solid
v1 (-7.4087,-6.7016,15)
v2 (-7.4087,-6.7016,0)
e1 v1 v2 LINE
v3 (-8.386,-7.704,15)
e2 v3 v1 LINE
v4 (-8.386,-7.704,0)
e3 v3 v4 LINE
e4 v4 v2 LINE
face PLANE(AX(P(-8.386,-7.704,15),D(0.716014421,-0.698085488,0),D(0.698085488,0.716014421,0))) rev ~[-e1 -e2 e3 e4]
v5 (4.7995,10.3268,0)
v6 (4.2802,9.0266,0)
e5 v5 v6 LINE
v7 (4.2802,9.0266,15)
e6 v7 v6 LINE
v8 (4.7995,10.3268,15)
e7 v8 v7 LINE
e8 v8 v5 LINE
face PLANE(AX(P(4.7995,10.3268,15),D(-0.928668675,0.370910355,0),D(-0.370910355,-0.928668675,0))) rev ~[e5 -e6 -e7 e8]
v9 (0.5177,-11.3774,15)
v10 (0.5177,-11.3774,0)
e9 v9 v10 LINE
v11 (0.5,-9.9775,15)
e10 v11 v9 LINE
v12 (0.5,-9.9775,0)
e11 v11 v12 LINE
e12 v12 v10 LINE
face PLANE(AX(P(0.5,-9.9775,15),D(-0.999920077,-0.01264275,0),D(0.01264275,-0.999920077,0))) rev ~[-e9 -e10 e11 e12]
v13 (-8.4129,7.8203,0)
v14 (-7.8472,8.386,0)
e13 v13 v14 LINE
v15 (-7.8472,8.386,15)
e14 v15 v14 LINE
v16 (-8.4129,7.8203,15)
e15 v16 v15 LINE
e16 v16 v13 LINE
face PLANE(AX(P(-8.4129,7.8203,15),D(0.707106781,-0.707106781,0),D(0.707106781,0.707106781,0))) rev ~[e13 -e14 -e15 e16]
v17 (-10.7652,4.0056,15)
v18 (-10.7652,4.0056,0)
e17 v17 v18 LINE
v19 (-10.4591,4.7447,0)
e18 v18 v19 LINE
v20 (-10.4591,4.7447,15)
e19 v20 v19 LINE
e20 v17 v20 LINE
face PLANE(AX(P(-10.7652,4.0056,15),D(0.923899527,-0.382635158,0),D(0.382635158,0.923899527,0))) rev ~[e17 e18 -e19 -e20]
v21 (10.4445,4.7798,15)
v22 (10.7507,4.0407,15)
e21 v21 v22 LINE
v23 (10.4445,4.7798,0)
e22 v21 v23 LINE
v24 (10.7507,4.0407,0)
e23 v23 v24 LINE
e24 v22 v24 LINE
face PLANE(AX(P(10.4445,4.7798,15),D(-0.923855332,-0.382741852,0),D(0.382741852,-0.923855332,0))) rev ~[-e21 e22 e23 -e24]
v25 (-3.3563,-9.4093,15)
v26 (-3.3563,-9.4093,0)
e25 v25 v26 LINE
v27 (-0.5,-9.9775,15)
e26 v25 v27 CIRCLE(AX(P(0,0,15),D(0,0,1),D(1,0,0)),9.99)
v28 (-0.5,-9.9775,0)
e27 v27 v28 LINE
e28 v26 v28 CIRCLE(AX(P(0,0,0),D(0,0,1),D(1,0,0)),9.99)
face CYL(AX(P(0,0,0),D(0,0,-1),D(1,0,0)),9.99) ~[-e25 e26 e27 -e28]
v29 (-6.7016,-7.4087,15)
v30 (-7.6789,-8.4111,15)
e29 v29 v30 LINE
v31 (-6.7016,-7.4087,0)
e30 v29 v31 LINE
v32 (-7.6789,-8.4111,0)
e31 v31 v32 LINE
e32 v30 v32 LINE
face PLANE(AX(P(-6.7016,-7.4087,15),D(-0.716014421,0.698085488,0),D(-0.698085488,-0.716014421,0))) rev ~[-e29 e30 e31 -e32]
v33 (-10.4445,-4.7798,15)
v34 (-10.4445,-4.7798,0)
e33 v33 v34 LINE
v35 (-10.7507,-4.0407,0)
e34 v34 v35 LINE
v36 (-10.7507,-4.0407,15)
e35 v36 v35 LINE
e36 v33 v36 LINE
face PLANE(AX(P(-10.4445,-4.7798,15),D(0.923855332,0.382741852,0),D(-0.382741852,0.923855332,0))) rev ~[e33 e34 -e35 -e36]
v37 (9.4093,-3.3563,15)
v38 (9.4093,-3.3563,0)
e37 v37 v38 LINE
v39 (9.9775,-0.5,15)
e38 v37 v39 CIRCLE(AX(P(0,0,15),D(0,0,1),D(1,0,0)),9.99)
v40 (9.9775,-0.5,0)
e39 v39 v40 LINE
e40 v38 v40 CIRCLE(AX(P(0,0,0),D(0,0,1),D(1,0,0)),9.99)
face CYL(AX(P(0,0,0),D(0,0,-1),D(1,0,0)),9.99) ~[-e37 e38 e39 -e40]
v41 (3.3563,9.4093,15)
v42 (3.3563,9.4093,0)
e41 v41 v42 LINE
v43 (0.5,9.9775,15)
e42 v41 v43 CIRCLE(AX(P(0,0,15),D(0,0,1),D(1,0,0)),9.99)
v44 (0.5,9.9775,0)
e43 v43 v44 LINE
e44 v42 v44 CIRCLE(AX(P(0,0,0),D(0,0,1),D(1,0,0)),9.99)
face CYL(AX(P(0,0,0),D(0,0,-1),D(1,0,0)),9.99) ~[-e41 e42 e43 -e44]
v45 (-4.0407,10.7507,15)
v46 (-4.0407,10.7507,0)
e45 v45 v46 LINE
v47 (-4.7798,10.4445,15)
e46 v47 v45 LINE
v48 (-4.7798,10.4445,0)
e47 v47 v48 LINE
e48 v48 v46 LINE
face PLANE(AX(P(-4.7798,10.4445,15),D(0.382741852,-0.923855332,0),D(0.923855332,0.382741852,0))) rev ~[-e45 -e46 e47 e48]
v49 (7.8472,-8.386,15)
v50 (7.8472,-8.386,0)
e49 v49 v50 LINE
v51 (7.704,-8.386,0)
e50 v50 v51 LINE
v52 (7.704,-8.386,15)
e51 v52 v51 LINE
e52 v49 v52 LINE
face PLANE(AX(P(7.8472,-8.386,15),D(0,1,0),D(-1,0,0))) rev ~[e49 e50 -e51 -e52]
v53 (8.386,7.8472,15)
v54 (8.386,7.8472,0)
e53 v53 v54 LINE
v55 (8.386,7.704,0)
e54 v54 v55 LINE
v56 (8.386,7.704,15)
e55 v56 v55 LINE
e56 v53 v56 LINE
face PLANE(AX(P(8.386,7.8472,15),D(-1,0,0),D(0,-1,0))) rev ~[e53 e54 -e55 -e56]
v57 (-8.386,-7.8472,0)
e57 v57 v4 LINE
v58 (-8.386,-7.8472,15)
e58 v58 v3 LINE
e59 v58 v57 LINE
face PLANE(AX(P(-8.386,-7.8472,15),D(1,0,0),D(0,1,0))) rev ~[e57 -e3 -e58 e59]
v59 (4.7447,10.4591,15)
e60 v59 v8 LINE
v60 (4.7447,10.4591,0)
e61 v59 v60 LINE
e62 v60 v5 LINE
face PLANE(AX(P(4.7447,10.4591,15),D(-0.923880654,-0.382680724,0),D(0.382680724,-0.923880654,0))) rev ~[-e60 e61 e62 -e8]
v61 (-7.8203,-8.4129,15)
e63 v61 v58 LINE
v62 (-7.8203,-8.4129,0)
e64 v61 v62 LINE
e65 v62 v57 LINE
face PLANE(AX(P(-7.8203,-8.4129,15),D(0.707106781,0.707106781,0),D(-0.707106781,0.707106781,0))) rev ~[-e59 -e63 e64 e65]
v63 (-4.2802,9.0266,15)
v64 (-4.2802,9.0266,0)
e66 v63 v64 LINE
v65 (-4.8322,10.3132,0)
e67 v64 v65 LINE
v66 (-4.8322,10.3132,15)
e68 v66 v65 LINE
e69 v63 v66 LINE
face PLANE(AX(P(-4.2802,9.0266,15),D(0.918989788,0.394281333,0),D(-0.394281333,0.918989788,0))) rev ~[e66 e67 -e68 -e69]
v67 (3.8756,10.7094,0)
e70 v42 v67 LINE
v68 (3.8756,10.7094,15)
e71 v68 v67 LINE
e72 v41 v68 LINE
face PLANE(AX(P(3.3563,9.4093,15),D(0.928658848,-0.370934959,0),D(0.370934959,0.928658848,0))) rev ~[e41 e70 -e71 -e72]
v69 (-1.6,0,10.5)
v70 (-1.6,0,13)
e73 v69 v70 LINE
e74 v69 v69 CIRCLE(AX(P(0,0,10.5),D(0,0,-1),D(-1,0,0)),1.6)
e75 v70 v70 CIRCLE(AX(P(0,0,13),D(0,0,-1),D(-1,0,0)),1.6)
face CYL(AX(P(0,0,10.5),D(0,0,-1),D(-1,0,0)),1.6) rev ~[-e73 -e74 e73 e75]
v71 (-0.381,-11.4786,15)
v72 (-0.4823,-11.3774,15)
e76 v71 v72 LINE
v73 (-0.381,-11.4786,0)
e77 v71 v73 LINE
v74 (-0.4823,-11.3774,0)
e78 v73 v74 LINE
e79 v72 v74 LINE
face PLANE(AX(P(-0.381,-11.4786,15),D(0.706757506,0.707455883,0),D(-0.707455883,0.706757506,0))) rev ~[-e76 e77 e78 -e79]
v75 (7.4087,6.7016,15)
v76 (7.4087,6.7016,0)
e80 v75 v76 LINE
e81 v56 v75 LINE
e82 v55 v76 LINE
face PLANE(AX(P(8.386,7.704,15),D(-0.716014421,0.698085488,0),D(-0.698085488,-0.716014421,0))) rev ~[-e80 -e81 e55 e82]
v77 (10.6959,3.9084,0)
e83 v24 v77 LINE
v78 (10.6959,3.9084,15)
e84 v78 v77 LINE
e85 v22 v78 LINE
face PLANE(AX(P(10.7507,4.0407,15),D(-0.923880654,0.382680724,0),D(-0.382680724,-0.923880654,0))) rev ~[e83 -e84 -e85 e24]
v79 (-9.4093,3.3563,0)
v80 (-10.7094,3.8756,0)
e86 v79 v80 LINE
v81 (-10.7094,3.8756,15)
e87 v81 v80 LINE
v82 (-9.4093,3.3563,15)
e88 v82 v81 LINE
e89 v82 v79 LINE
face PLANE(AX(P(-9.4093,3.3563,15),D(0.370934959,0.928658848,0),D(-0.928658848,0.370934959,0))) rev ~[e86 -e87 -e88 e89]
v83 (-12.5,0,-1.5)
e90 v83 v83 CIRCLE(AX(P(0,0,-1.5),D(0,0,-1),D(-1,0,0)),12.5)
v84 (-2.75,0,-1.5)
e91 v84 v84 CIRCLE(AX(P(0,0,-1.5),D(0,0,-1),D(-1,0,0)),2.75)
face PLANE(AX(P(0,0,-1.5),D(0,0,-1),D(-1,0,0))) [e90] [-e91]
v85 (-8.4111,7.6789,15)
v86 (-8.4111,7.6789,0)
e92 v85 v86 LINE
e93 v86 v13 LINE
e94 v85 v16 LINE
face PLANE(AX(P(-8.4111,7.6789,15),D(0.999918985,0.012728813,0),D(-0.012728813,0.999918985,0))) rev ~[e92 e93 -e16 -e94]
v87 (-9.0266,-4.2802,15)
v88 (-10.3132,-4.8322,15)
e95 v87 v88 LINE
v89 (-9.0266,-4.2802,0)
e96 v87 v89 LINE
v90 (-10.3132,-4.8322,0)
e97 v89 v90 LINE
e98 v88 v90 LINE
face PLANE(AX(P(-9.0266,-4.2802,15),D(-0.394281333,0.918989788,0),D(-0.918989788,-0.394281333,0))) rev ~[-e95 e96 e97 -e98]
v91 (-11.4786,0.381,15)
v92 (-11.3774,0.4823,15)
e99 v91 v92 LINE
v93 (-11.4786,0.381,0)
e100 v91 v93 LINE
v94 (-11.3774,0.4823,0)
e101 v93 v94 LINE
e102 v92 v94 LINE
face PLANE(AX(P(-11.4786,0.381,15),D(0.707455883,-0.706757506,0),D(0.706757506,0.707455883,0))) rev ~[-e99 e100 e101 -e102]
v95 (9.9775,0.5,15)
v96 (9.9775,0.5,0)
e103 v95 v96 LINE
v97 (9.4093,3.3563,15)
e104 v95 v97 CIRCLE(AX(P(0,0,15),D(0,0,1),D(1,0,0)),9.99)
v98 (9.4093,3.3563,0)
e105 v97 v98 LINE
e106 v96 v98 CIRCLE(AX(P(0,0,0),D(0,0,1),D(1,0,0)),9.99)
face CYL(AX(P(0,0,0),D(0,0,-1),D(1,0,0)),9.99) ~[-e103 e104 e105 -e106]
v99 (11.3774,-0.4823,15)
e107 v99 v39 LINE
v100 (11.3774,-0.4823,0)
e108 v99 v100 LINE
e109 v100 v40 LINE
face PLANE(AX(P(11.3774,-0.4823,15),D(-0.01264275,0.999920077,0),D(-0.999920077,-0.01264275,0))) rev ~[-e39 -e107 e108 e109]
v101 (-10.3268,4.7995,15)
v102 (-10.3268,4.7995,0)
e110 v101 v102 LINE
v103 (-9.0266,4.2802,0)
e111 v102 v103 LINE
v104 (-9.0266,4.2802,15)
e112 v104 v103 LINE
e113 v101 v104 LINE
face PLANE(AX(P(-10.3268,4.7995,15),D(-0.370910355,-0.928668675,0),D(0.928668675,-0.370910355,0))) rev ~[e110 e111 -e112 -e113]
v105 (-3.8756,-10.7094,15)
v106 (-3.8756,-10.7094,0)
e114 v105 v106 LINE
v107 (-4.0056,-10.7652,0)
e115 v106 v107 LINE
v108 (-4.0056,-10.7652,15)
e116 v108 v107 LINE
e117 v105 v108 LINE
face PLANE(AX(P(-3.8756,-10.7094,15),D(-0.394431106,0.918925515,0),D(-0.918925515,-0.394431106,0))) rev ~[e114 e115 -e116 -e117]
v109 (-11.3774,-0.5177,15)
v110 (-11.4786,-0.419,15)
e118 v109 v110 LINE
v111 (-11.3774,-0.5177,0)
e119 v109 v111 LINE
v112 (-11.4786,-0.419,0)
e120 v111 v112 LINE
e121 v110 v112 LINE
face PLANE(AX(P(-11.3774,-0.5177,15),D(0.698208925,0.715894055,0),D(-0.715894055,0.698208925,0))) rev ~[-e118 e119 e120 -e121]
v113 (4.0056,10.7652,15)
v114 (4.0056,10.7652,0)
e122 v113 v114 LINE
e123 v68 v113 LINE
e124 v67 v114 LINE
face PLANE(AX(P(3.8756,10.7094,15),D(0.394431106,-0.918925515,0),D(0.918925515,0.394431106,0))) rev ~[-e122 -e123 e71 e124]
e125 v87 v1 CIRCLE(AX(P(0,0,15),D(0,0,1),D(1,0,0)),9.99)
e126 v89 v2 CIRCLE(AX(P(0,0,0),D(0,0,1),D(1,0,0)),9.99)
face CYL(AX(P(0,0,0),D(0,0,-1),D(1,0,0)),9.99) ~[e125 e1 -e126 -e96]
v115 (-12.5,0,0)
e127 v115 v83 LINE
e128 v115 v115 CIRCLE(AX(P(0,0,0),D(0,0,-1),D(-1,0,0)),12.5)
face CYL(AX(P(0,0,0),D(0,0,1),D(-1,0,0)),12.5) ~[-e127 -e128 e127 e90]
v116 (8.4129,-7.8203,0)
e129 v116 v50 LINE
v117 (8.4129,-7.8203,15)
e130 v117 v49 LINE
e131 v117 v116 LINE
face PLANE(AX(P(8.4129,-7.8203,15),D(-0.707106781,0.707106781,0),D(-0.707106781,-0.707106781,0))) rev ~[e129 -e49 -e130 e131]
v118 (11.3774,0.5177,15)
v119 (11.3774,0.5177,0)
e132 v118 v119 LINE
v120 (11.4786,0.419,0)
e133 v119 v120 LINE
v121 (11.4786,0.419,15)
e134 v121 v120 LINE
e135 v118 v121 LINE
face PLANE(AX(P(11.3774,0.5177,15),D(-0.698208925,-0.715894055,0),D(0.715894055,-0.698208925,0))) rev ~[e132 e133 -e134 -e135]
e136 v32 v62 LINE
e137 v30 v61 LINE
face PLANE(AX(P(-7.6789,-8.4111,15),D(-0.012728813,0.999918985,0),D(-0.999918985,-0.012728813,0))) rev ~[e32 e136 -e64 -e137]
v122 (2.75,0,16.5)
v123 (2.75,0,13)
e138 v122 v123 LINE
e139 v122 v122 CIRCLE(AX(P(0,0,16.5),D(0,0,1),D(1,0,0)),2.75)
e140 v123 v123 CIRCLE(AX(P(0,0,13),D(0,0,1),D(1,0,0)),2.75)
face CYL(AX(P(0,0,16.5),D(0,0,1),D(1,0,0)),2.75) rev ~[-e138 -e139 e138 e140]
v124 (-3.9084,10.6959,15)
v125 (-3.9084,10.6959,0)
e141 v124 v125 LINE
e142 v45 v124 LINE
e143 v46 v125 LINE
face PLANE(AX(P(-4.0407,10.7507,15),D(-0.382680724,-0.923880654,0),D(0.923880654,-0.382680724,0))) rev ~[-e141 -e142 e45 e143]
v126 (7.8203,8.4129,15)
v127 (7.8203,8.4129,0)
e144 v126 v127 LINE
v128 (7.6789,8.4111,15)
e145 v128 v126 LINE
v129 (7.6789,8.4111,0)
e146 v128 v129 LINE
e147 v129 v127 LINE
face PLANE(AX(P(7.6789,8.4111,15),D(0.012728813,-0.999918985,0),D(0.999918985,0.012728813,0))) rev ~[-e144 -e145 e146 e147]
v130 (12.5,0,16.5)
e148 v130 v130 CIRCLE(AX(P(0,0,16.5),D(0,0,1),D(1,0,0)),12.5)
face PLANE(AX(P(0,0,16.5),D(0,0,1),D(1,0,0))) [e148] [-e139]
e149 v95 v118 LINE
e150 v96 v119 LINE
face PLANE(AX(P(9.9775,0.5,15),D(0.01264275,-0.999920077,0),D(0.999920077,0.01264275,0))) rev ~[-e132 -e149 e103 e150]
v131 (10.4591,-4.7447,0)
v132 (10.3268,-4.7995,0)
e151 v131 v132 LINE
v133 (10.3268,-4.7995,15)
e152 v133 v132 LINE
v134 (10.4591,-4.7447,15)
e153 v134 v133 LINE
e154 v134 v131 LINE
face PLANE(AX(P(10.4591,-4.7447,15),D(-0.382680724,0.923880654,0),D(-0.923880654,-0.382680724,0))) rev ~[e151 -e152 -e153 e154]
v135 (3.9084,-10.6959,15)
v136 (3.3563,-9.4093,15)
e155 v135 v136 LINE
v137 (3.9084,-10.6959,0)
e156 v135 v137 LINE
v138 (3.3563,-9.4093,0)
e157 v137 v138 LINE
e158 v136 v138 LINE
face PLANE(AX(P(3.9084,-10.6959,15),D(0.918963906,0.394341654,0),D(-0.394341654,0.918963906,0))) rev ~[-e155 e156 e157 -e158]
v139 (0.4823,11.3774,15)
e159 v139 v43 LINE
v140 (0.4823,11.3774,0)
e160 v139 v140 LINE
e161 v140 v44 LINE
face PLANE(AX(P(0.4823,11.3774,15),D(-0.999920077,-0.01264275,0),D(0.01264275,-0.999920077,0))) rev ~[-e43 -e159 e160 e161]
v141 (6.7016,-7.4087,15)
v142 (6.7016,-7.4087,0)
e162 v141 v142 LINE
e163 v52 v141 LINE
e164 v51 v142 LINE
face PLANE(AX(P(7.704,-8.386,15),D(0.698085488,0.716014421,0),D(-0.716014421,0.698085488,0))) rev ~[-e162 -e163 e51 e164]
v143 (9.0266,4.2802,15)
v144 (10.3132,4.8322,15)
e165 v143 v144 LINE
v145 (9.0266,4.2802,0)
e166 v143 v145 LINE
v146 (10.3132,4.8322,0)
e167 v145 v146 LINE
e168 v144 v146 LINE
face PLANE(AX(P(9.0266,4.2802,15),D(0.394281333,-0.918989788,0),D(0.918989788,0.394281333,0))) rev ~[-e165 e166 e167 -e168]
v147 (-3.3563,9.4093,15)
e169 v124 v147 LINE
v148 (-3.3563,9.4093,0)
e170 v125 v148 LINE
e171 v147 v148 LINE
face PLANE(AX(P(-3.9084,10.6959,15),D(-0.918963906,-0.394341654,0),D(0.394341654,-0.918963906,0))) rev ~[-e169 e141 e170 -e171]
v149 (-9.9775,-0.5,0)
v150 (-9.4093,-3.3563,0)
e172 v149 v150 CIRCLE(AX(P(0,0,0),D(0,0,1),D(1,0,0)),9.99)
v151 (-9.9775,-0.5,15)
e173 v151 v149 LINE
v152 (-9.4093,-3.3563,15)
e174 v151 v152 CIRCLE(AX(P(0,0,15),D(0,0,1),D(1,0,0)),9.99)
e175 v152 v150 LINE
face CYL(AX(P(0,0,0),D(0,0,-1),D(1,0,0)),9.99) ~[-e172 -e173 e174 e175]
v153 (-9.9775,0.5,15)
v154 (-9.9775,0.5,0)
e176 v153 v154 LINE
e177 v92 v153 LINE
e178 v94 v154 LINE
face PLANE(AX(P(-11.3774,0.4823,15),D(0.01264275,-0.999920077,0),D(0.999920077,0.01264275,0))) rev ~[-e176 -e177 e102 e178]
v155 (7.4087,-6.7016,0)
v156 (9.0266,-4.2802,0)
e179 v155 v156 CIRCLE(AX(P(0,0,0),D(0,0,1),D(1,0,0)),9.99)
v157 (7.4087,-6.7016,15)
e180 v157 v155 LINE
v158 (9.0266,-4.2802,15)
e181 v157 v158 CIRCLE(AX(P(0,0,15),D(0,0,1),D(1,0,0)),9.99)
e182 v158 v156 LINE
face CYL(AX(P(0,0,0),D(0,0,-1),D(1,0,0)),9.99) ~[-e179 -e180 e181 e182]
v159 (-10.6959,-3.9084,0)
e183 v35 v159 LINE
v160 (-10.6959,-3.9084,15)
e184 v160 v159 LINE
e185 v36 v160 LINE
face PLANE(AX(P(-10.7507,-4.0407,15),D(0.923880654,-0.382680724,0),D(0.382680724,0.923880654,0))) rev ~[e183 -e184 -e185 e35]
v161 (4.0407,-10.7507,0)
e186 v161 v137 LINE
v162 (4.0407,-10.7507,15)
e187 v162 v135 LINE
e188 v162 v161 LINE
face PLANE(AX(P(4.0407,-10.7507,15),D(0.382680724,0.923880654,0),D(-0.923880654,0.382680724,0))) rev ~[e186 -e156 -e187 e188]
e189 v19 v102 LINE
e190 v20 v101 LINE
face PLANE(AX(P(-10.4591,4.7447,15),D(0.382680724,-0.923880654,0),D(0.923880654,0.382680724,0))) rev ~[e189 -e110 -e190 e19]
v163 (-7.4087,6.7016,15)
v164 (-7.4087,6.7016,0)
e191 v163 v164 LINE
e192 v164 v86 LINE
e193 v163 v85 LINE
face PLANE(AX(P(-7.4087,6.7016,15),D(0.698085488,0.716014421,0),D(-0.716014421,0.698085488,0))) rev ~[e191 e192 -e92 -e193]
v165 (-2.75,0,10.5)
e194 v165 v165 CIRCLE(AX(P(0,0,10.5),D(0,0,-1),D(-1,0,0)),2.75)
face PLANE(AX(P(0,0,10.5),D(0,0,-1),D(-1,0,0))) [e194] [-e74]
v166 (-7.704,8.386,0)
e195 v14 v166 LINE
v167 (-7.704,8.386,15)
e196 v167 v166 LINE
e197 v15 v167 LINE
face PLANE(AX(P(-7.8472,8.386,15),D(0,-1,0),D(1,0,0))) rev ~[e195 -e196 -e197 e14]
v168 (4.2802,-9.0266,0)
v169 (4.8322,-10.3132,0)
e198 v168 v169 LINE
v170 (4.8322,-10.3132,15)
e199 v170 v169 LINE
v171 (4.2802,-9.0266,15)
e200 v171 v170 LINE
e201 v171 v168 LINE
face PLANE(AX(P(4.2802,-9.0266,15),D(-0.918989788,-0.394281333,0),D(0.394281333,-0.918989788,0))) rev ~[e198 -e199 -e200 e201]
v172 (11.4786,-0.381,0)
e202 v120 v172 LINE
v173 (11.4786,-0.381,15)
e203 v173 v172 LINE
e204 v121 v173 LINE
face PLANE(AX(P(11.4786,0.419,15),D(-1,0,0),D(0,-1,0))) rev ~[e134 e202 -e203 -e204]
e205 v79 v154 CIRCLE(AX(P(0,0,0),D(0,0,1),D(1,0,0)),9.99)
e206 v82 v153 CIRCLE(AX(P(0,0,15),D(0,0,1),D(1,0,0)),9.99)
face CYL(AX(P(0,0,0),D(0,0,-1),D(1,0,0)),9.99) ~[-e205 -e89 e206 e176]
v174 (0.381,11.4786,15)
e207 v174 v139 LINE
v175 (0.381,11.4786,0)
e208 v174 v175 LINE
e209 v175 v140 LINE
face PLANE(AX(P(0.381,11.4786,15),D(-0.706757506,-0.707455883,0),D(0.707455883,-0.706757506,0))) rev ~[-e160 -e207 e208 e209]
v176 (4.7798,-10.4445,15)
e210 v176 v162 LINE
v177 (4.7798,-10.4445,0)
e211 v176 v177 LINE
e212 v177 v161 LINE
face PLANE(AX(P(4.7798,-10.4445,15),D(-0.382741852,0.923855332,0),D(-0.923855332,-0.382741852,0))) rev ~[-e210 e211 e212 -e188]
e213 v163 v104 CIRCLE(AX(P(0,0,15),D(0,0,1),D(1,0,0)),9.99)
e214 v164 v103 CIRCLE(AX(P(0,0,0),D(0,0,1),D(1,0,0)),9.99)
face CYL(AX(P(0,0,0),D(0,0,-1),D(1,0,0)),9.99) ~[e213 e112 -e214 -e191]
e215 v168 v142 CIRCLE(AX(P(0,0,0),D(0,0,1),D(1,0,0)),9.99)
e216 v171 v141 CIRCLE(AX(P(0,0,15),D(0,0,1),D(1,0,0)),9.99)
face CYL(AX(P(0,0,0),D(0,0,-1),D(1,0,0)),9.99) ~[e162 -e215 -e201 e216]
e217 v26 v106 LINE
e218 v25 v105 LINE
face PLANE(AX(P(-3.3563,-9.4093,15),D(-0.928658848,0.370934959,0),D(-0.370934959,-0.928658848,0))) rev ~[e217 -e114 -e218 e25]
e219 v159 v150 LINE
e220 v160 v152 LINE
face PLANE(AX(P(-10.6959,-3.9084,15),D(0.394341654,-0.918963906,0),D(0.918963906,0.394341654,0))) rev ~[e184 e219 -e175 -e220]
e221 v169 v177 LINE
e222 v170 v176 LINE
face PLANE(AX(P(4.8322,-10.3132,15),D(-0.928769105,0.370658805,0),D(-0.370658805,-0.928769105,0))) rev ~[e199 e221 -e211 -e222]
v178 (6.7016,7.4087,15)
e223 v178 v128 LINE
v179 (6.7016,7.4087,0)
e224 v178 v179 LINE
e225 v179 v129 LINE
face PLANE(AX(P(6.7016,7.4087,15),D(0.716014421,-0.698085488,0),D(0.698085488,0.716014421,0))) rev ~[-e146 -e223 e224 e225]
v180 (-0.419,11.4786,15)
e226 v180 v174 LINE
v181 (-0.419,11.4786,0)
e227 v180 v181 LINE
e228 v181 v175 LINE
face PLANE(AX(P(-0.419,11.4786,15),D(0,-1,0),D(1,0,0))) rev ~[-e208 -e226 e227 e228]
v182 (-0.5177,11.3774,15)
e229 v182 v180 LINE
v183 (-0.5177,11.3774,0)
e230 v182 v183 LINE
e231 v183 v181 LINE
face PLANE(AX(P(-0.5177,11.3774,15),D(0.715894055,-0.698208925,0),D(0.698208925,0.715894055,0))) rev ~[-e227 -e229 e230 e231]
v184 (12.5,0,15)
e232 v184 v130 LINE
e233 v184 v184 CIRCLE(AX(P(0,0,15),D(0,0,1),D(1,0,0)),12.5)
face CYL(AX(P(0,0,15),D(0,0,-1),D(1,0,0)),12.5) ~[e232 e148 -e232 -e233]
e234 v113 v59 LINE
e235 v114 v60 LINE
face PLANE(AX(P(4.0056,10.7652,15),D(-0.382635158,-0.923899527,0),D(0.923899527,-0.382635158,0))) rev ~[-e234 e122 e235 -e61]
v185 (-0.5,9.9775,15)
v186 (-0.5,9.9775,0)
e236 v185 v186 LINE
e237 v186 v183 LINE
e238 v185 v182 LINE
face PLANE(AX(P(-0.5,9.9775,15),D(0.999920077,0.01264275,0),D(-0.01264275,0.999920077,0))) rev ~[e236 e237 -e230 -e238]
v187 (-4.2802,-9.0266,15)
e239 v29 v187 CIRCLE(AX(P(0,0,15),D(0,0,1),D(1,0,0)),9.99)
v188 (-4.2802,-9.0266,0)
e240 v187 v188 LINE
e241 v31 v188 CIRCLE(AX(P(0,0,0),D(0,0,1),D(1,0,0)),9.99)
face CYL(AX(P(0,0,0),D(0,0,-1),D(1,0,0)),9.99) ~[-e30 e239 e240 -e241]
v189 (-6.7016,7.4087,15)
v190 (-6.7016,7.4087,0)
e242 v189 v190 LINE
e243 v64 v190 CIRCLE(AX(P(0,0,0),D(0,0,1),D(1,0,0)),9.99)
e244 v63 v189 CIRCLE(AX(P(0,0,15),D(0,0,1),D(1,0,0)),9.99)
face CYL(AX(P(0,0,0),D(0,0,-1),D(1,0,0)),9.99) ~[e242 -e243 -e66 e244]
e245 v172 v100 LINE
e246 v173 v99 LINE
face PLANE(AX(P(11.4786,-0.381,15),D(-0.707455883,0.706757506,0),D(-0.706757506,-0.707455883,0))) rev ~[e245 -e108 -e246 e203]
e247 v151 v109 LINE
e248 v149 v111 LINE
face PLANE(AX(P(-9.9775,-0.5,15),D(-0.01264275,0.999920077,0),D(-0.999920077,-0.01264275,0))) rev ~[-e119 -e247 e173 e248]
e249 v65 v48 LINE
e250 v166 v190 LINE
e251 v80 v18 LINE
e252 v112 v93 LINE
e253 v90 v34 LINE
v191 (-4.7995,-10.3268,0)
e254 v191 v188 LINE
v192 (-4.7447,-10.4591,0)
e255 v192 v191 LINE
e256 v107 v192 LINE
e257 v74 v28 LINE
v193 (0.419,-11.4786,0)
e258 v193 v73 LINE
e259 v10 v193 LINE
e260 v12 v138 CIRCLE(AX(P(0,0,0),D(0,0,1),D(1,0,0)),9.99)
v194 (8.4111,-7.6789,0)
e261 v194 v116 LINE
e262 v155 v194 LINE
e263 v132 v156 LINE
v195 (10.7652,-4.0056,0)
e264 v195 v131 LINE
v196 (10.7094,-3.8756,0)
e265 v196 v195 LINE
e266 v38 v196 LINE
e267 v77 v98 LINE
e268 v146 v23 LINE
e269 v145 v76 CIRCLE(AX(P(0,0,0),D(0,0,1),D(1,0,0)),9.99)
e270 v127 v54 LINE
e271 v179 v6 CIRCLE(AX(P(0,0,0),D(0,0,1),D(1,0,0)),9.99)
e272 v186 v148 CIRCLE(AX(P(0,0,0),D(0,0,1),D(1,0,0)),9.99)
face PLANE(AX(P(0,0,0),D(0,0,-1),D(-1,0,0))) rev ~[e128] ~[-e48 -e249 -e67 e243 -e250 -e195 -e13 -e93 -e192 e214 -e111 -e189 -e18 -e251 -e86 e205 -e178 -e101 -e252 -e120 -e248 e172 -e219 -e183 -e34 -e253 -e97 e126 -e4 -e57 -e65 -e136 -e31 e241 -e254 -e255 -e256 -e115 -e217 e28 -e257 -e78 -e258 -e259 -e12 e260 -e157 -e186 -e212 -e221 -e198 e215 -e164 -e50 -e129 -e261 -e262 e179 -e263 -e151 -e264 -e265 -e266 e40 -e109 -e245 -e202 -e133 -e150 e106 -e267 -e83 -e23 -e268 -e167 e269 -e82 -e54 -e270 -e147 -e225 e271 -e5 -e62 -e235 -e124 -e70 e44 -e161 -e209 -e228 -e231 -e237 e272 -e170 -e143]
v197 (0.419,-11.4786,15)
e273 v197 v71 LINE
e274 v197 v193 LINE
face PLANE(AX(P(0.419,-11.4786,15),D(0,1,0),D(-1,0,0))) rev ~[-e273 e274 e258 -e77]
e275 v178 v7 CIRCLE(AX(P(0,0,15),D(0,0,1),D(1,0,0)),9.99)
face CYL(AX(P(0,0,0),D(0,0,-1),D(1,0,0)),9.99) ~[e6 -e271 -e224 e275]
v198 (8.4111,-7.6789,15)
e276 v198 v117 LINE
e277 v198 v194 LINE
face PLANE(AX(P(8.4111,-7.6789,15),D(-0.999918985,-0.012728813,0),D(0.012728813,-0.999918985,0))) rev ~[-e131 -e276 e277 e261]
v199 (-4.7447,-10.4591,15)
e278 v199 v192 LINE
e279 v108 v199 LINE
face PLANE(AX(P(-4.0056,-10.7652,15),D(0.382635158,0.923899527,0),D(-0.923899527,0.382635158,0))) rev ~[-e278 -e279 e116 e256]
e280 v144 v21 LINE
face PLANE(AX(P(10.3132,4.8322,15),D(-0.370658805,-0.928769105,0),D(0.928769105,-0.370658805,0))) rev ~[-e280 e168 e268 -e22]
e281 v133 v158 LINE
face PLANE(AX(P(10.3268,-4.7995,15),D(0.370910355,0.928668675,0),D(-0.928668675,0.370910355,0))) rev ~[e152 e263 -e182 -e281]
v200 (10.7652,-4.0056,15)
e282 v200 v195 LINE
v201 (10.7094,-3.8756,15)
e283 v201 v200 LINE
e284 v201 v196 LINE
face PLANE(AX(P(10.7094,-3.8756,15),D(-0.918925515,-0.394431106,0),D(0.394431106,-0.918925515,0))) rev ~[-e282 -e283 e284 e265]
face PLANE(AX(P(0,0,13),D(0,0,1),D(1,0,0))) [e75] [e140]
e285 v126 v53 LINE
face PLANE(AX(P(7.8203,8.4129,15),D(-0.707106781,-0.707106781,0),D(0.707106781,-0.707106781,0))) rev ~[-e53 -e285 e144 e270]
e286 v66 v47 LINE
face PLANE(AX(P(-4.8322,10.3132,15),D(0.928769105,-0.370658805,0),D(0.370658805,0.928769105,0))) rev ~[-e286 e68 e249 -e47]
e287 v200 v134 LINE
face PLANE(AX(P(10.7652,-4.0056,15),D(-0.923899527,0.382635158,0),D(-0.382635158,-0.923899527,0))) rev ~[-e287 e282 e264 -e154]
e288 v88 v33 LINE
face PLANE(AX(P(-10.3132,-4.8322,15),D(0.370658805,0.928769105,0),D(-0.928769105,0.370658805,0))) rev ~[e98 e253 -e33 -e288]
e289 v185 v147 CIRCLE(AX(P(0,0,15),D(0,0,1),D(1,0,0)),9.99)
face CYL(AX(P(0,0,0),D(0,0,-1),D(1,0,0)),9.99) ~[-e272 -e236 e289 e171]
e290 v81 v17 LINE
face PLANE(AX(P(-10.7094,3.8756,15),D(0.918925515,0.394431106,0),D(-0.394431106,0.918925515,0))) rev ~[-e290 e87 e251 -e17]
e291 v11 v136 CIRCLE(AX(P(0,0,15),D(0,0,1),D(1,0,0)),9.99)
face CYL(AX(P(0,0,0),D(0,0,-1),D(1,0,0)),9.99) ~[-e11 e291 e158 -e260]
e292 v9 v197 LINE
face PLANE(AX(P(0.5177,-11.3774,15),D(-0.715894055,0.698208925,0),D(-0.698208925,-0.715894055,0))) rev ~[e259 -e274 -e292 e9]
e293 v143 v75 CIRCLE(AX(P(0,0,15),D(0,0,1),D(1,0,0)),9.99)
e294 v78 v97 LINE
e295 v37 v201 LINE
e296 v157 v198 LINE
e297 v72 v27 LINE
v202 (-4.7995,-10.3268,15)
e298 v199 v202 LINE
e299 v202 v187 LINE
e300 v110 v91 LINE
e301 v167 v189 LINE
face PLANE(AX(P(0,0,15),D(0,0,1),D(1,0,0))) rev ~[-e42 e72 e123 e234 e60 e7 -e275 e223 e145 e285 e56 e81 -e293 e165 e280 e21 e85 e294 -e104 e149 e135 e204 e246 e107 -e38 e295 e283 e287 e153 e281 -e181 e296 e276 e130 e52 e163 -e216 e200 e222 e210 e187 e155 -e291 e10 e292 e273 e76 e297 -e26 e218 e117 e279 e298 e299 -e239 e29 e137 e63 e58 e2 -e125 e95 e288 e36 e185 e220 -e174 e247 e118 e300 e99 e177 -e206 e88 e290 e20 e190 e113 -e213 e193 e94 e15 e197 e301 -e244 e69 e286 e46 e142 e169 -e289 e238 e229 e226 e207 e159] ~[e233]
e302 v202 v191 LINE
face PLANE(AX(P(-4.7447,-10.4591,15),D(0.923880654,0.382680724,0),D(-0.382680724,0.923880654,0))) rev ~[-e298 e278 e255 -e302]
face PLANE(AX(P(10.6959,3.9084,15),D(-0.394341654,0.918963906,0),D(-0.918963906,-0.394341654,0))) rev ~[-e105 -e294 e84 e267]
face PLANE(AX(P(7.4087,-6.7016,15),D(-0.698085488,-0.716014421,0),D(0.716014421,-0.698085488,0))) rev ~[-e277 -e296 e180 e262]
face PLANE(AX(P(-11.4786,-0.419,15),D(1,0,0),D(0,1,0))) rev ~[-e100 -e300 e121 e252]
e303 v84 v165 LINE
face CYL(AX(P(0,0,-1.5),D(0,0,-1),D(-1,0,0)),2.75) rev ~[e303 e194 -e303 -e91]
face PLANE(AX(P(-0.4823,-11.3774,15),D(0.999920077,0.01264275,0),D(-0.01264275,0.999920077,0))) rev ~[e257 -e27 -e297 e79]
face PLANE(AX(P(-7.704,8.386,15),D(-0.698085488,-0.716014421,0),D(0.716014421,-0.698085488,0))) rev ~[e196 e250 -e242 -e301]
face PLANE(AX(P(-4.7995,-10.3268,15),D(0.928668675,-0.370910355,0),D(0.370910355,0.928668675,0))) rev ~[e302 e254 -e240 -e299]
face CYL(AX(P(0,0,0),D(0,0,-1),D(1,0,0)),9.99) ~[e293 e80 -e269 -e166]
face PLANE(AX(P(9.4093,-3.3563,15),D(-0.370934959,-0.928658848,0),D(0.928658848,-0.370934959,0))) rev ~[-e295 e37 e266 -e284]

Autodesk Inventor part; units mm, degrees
ref_plane "YZ Plane" through (0, 0, 0) normal (1, 0, 0) x (0, 1, 0)
ref_plane "XZ Plane" through (0, 0, 0) normal (0, 1, 0) x (-1, 0, 0)
ref_plane "XY Plane" through (0, 0, 0) normal (0, 0, 1) x (1, 0, 0)
sketch "Skizze1" plane through (0, 0, 0) normal (0, 0, 1) x (1, 0, 0)
  circle A0 centre (0, 0) radius 9.99
  dimension "d0" = 19.98
extrude "Extrusion1" add sketch "Skizze1" along normal blind 15
sketch "Skizze2" plane through (0, 0, 15) normal (0, 0, 1) x (1, 0, 0)
  circle A0 centre (0, 0) radius 9.99 projected
  line L0 (-0.5, 9.9775) -> (0.5, 9.9775)
  line L1 (-0.5, 9.9775) -> (-0.5177, 11.3774)
  line L2 (0.4823, 11.3774) -> (0.5, 9.9775)
  line L3 (-0.5177, 11.3774) -> (-0.419, 11.4786)
  line L4 (0.381, 11.4786) -> (0.4823, 11.3774)
  line L5 (-0.419, 11.4786) -> (0.381, 11.4786)
  line L6 (-4.2802, 9.0266) -> (-4.8322, 10.3132)
  line L7 (-4.8322, 10.3132) -> (-4.7798, 10.4445)
  line L8 (-4.7798, 10.4445) -> (-4.0407, 10.7507)
  line L9 (-4.0407, 10.7507) -> (-3.9084, 10.6959)
  line L10 (-3.9084, 10.6959) -> (-3.3563, 9.4093)
  line L11 (-4.2802, 9.0266) -> (-3.3563, 9.4093)
  line L12 (-7.4087, 6.7016) -> (-8.4111, 7.6789)
  line L13 (-8.4111, 7.6789) -> (-8.4129, 7.8203)
  line L14 (-8.4129, 7.8203) -> (-7.8472, 8.386)
  line L15 (-7.8472, 8.386) -> (-7.704, 8.386)
  line L16 (-7.704, 8.386) -> (-6.7016, 7.4087)
  line L17 (-7.4087, 6.7016) -> (-6.7016, 7.4087)
  line L18 (-9.4093, 3.3563) -> (-10.7094, 3.8756)
  line L19 (-10.7094, 3.8756) -> (-10.7652, 4.0056)
  line L20 (-10.7652, 4.0056) -> (-10.4591, 4.7447)
  line L21 (-10.4591, 4.7447) -> (-10.3268, 4.7995)
  line L22 (-10.3268, 4.7995) -> (-9.0266, 4.2802)
  line L23 (-9.4093, 3.3563) -> (-9.0266, 4.2802)
  line L24 (-9.9775, -0.5) -> (-11.3774, -0.5177)
  line L25 (-11.3774, -0.5177) -> (-11.4786, -0.419)
  line L26 (-11.4786, -0.419) -> (-11.4786, 0.381)
  line L27 (-11.4786, 0.381) -> (-11.3774, 0.4823)
  line L28 (-11.3774, 0.4823) -> (-9.9775, 0.5)
  line L29 (-9.9775, -0.5) -> (-9.9775, 0.5)
  line L30 (-9.0266, -4.2802) -> (-10.3132, -4.8322)
  line L31 (-10.3132, -4.8322) -> (-10.4445, -4.7798)
  line L32 (-10.4445, -4.7798) -> (-10.7507, -4.0407)
  line L33 (-10.7507, -4.0407) -> (-10.6959, -3.9084)
  line L34 (-10.6959, -3.9084) -> (-9.4093, -3.3563)
  line L35 (-9.0266, -4.2802) -> (-9.4093, -3.3563)
  line L36 (-6.7016, -7.4087) -> (-7.6789, -8.4111)
  line L37 (-7.6789, -8.4111) -> (-7.8203, -8.4129)
  line L38 (-7.8203, -8.4129) -> (-8.386, -7.8472)
  line L39 (-8.386, -7.8472) -> (-8.386, -7.704)
  line L40 (-8.386, -7.704) -> (-7.4087, -6.7016)
  line L41 (-6.7016, -7.4087) -> (-7.4087, -6.7016)
  line L42 (-3.3563, -9.4093) -> (-3.8756, -10.7094)
  line L43 (-3.8756, -10.7094) -> (-4.0056, -10.7652)
  line L44 (-4.0056, -10.7652) -> (-4.7447, -10.4591)
  line L45 (-4.7447, -10.4591) -> (-4.7995, -10.3268)
  line L46 (-4.7995, -10.3268) -> (-4.2802, -9.0266)
  line L47 (-3.3563, -9.4093) -> (-4.2802, -9.0266)
  line L48 (0.5, -9.9775) -> (0.5177, -11.3774)
  line L49 (0.5177, -11.3774) -> (0.419, -11.4786)
  line L50 (0.419, -11.4786) -> (-0.381, -11.4786)
  line L51 (-0.381, -11.4786) -> (-0.4823, -11.3774)
  line L52 (-0.4823, -11.3774) -> (-0.5, -9.9775)
  line L53 (0.5, -9.9775) -> (-0.5, -9.9775)
  line L54 (4.2802, -9.0266) -> (4.8322, -10.3132)
  line L55 (4.8322, -10.3132) -> (4.7798, -10.4445)
  line L56 (4.7798, -10.4445) -> (4.0407, -10.7507)
  line L57 (4.0407, -10.7507) -> (3.9084, -10.6959)
  line L58 (3.9084, -10.6959) -> (3.3563, -9.4093)
  line L59 (4.2802, -9.0266) -> (3.3563, -9.4093)
  line L60 (7.4087, -6.7016) -> (8.4111, -7.6789)
  line L61 (8.4111, -7.6789) -> (8.4129, -7.8203)
  line L62 (8.4129, -7.8203) -> (7.8472, -8.386)
  line L63 (7.8472, -8.386) -> (7.704, -8.386)
  line L64 (7.704, -8.386) -> (6.7016, -7.4087)
  line L65 (7.4087, -6.7016) -> (6.7016, -7.4087)
  line L66 (9.4093, -3.3563) -> (10.7094, -3.8756)
  line L67 (10.7094, -3.8756) -> (10.7652, -4.0056)
  line L68 (10.7652, -4.0056) -> (10.4591, -4.7447)
  line L69 (10.4591, -4.7447) -> (10.3268, -4.7995)
  line L70 (10.3268, -4.7995) -> (9.0266, -4.2802)
  line L71 (9.4093, -3.3563) -> (9.0266, -4.2802)
  line L72 (9.9775, 0.5) -> (11.3774, 0.5177)
  line L73 (11.3774, 0.5177) -> (11.4786, 0.419)
  line L74 (11.4786, 0.419) -> (11.4786, -0.381)
  line L75 (11.4786, -0.381) -> (11.3774, -0.4823)
  line L76 (11.3774, -0.4823) -> (9.9775, -0.5)
  line L77 (9.9775, 0.5) -> (9.9775, -0.5)
  line L78 (9.0266, 4.2802) -> (10.3132, 4.8322)
  line L79 (10.3132, 4.8322) -> (10.4445, 4.7798)
  line L80 (10.4445, 4.7798) -> (10.7507, 4.0407)
  line L81 (10.7507, 4.0407) -> (10.6959, 3.9084)
  line L82 (10.6959, 3.9084) -> (9.4093, 3.3563)
  line L83 (9.0266, 4.2802) -> (9.4093, 3.3563)
  line L84 (6.7016, 7.4087) -> (7.6789, 8.4111)
  line L85 (7.6789, 8.4111) -> (7.8203, 8.4129)
  line L86 (7.8203, 8.4129) -> (8.386, 7.8472)
  line L87 (8.386, 7.8472) -> (8.386, 7.704)
  line L88 (8.386, 7.704) -> (7.4087, 6.7016)
  line L89 (6.7016, 7.4087) -> (7.4087, 6.7016)
  line L90 (3.3563, 9.4093) -> (3.8756, 10.7094)
  line L91 (3.8756, 10.7094) -> (4.0056, 10.7652)
  line L92 (4.0056, 10.7652) -> (4.7447, 10.4591)
  line L93 (4.7447, 10.4591) -> (4.7995, 10.3268)
  line L94 (4.7995, 10.3268) -> (4.2802, 9.0266)
  line L95 (3.3563, 9.4093) -> (4.2802, 9.0266)
  dimension "d4" = 1
  dimension "d31" = 0.1
  dimension "d52" = 360
extrude "Extrusion2" add sketch "Skizze2" against normal blind 15 contours A0 L72 L73 L74 L75 L76 | A0 L78 L79 L80 L81 L82 | L66 L67 L68 L69 L70 A0 | A0 L71 | A0 L84 L85 L86 L87 L88 | L60 L61 L62 L63 L64 A0 | A0 L65 | A0 L90 L91 L92 L93 L94 | L54 L55 L56 L57 L58 A0 | A0 L59 | L0 A0 | A0 L1 L3 L5 L4 L2 | L48 L49 L50 L51 L52 A0 | A0 L53 | A0 L6 L7 L8 L9 L10 | L42 L43 L44 L45 L46 A0 | A0 L12 L13 L14 L15 L16 | L36 L37 L38 L39 L40 A0 | L23 A0 | A0 L18 L19 L20 L21 L22 | L30 L31 L32 L33 L34 A0 | A0 L35 | L29 A0 | A0 L24 L25 L26 L27 L28
sketch "Skizze3" plane through (0, 0, 15) normal (0, 0, 1) x (1, 0, 0)
  circle A0 centre (0, 0) radius 12.5
  dimension "d15" = 25
extrude "Extrusion3" add sketch "Skizze3" along normal blind 1.5
sketch "Skizze4" plane through (0, 0, 0) normal (0, 0, -1) x (-1, 0, 0)
  circle A0 centre (0, 0) radius 12.5
  dimension "d33" = 25
extrude "Extrusion4" add sketch "Skizze4" along normal blind 1.5
sketch "Skizze5" plane through (0, 0, 16.5) normal (0, 0, 1) x (1, 0, 0)
  circle A0 centre (0, 0) radius 2.75
  dimension "d20" = 5.5
extrude "Extrusion5" cut sketch "Skizze5" against normal blind 3.5
sketch "Skizze6" plane through (0, 0, -1.5) normal (0, 0, -1) x (-1, 0, 0)
  circle A0 centre (0, 0) radius 2.75
  dimension "d23" = 5.5
extrude "Extrusion6" cut sketch "Skizze6" against normal blind 12
sketch "Skizze7" plane through (0, 0, 10.5) normal (0, 0, -1) x (-1, 0, 0)
  circle A0 centre (0, 0) radius 1.6
  dimension "d26" = 3.2
extrude "Extrusion7" cut sketch "Skizze7" against normal blind 12
properties part number "zahnrad2"
